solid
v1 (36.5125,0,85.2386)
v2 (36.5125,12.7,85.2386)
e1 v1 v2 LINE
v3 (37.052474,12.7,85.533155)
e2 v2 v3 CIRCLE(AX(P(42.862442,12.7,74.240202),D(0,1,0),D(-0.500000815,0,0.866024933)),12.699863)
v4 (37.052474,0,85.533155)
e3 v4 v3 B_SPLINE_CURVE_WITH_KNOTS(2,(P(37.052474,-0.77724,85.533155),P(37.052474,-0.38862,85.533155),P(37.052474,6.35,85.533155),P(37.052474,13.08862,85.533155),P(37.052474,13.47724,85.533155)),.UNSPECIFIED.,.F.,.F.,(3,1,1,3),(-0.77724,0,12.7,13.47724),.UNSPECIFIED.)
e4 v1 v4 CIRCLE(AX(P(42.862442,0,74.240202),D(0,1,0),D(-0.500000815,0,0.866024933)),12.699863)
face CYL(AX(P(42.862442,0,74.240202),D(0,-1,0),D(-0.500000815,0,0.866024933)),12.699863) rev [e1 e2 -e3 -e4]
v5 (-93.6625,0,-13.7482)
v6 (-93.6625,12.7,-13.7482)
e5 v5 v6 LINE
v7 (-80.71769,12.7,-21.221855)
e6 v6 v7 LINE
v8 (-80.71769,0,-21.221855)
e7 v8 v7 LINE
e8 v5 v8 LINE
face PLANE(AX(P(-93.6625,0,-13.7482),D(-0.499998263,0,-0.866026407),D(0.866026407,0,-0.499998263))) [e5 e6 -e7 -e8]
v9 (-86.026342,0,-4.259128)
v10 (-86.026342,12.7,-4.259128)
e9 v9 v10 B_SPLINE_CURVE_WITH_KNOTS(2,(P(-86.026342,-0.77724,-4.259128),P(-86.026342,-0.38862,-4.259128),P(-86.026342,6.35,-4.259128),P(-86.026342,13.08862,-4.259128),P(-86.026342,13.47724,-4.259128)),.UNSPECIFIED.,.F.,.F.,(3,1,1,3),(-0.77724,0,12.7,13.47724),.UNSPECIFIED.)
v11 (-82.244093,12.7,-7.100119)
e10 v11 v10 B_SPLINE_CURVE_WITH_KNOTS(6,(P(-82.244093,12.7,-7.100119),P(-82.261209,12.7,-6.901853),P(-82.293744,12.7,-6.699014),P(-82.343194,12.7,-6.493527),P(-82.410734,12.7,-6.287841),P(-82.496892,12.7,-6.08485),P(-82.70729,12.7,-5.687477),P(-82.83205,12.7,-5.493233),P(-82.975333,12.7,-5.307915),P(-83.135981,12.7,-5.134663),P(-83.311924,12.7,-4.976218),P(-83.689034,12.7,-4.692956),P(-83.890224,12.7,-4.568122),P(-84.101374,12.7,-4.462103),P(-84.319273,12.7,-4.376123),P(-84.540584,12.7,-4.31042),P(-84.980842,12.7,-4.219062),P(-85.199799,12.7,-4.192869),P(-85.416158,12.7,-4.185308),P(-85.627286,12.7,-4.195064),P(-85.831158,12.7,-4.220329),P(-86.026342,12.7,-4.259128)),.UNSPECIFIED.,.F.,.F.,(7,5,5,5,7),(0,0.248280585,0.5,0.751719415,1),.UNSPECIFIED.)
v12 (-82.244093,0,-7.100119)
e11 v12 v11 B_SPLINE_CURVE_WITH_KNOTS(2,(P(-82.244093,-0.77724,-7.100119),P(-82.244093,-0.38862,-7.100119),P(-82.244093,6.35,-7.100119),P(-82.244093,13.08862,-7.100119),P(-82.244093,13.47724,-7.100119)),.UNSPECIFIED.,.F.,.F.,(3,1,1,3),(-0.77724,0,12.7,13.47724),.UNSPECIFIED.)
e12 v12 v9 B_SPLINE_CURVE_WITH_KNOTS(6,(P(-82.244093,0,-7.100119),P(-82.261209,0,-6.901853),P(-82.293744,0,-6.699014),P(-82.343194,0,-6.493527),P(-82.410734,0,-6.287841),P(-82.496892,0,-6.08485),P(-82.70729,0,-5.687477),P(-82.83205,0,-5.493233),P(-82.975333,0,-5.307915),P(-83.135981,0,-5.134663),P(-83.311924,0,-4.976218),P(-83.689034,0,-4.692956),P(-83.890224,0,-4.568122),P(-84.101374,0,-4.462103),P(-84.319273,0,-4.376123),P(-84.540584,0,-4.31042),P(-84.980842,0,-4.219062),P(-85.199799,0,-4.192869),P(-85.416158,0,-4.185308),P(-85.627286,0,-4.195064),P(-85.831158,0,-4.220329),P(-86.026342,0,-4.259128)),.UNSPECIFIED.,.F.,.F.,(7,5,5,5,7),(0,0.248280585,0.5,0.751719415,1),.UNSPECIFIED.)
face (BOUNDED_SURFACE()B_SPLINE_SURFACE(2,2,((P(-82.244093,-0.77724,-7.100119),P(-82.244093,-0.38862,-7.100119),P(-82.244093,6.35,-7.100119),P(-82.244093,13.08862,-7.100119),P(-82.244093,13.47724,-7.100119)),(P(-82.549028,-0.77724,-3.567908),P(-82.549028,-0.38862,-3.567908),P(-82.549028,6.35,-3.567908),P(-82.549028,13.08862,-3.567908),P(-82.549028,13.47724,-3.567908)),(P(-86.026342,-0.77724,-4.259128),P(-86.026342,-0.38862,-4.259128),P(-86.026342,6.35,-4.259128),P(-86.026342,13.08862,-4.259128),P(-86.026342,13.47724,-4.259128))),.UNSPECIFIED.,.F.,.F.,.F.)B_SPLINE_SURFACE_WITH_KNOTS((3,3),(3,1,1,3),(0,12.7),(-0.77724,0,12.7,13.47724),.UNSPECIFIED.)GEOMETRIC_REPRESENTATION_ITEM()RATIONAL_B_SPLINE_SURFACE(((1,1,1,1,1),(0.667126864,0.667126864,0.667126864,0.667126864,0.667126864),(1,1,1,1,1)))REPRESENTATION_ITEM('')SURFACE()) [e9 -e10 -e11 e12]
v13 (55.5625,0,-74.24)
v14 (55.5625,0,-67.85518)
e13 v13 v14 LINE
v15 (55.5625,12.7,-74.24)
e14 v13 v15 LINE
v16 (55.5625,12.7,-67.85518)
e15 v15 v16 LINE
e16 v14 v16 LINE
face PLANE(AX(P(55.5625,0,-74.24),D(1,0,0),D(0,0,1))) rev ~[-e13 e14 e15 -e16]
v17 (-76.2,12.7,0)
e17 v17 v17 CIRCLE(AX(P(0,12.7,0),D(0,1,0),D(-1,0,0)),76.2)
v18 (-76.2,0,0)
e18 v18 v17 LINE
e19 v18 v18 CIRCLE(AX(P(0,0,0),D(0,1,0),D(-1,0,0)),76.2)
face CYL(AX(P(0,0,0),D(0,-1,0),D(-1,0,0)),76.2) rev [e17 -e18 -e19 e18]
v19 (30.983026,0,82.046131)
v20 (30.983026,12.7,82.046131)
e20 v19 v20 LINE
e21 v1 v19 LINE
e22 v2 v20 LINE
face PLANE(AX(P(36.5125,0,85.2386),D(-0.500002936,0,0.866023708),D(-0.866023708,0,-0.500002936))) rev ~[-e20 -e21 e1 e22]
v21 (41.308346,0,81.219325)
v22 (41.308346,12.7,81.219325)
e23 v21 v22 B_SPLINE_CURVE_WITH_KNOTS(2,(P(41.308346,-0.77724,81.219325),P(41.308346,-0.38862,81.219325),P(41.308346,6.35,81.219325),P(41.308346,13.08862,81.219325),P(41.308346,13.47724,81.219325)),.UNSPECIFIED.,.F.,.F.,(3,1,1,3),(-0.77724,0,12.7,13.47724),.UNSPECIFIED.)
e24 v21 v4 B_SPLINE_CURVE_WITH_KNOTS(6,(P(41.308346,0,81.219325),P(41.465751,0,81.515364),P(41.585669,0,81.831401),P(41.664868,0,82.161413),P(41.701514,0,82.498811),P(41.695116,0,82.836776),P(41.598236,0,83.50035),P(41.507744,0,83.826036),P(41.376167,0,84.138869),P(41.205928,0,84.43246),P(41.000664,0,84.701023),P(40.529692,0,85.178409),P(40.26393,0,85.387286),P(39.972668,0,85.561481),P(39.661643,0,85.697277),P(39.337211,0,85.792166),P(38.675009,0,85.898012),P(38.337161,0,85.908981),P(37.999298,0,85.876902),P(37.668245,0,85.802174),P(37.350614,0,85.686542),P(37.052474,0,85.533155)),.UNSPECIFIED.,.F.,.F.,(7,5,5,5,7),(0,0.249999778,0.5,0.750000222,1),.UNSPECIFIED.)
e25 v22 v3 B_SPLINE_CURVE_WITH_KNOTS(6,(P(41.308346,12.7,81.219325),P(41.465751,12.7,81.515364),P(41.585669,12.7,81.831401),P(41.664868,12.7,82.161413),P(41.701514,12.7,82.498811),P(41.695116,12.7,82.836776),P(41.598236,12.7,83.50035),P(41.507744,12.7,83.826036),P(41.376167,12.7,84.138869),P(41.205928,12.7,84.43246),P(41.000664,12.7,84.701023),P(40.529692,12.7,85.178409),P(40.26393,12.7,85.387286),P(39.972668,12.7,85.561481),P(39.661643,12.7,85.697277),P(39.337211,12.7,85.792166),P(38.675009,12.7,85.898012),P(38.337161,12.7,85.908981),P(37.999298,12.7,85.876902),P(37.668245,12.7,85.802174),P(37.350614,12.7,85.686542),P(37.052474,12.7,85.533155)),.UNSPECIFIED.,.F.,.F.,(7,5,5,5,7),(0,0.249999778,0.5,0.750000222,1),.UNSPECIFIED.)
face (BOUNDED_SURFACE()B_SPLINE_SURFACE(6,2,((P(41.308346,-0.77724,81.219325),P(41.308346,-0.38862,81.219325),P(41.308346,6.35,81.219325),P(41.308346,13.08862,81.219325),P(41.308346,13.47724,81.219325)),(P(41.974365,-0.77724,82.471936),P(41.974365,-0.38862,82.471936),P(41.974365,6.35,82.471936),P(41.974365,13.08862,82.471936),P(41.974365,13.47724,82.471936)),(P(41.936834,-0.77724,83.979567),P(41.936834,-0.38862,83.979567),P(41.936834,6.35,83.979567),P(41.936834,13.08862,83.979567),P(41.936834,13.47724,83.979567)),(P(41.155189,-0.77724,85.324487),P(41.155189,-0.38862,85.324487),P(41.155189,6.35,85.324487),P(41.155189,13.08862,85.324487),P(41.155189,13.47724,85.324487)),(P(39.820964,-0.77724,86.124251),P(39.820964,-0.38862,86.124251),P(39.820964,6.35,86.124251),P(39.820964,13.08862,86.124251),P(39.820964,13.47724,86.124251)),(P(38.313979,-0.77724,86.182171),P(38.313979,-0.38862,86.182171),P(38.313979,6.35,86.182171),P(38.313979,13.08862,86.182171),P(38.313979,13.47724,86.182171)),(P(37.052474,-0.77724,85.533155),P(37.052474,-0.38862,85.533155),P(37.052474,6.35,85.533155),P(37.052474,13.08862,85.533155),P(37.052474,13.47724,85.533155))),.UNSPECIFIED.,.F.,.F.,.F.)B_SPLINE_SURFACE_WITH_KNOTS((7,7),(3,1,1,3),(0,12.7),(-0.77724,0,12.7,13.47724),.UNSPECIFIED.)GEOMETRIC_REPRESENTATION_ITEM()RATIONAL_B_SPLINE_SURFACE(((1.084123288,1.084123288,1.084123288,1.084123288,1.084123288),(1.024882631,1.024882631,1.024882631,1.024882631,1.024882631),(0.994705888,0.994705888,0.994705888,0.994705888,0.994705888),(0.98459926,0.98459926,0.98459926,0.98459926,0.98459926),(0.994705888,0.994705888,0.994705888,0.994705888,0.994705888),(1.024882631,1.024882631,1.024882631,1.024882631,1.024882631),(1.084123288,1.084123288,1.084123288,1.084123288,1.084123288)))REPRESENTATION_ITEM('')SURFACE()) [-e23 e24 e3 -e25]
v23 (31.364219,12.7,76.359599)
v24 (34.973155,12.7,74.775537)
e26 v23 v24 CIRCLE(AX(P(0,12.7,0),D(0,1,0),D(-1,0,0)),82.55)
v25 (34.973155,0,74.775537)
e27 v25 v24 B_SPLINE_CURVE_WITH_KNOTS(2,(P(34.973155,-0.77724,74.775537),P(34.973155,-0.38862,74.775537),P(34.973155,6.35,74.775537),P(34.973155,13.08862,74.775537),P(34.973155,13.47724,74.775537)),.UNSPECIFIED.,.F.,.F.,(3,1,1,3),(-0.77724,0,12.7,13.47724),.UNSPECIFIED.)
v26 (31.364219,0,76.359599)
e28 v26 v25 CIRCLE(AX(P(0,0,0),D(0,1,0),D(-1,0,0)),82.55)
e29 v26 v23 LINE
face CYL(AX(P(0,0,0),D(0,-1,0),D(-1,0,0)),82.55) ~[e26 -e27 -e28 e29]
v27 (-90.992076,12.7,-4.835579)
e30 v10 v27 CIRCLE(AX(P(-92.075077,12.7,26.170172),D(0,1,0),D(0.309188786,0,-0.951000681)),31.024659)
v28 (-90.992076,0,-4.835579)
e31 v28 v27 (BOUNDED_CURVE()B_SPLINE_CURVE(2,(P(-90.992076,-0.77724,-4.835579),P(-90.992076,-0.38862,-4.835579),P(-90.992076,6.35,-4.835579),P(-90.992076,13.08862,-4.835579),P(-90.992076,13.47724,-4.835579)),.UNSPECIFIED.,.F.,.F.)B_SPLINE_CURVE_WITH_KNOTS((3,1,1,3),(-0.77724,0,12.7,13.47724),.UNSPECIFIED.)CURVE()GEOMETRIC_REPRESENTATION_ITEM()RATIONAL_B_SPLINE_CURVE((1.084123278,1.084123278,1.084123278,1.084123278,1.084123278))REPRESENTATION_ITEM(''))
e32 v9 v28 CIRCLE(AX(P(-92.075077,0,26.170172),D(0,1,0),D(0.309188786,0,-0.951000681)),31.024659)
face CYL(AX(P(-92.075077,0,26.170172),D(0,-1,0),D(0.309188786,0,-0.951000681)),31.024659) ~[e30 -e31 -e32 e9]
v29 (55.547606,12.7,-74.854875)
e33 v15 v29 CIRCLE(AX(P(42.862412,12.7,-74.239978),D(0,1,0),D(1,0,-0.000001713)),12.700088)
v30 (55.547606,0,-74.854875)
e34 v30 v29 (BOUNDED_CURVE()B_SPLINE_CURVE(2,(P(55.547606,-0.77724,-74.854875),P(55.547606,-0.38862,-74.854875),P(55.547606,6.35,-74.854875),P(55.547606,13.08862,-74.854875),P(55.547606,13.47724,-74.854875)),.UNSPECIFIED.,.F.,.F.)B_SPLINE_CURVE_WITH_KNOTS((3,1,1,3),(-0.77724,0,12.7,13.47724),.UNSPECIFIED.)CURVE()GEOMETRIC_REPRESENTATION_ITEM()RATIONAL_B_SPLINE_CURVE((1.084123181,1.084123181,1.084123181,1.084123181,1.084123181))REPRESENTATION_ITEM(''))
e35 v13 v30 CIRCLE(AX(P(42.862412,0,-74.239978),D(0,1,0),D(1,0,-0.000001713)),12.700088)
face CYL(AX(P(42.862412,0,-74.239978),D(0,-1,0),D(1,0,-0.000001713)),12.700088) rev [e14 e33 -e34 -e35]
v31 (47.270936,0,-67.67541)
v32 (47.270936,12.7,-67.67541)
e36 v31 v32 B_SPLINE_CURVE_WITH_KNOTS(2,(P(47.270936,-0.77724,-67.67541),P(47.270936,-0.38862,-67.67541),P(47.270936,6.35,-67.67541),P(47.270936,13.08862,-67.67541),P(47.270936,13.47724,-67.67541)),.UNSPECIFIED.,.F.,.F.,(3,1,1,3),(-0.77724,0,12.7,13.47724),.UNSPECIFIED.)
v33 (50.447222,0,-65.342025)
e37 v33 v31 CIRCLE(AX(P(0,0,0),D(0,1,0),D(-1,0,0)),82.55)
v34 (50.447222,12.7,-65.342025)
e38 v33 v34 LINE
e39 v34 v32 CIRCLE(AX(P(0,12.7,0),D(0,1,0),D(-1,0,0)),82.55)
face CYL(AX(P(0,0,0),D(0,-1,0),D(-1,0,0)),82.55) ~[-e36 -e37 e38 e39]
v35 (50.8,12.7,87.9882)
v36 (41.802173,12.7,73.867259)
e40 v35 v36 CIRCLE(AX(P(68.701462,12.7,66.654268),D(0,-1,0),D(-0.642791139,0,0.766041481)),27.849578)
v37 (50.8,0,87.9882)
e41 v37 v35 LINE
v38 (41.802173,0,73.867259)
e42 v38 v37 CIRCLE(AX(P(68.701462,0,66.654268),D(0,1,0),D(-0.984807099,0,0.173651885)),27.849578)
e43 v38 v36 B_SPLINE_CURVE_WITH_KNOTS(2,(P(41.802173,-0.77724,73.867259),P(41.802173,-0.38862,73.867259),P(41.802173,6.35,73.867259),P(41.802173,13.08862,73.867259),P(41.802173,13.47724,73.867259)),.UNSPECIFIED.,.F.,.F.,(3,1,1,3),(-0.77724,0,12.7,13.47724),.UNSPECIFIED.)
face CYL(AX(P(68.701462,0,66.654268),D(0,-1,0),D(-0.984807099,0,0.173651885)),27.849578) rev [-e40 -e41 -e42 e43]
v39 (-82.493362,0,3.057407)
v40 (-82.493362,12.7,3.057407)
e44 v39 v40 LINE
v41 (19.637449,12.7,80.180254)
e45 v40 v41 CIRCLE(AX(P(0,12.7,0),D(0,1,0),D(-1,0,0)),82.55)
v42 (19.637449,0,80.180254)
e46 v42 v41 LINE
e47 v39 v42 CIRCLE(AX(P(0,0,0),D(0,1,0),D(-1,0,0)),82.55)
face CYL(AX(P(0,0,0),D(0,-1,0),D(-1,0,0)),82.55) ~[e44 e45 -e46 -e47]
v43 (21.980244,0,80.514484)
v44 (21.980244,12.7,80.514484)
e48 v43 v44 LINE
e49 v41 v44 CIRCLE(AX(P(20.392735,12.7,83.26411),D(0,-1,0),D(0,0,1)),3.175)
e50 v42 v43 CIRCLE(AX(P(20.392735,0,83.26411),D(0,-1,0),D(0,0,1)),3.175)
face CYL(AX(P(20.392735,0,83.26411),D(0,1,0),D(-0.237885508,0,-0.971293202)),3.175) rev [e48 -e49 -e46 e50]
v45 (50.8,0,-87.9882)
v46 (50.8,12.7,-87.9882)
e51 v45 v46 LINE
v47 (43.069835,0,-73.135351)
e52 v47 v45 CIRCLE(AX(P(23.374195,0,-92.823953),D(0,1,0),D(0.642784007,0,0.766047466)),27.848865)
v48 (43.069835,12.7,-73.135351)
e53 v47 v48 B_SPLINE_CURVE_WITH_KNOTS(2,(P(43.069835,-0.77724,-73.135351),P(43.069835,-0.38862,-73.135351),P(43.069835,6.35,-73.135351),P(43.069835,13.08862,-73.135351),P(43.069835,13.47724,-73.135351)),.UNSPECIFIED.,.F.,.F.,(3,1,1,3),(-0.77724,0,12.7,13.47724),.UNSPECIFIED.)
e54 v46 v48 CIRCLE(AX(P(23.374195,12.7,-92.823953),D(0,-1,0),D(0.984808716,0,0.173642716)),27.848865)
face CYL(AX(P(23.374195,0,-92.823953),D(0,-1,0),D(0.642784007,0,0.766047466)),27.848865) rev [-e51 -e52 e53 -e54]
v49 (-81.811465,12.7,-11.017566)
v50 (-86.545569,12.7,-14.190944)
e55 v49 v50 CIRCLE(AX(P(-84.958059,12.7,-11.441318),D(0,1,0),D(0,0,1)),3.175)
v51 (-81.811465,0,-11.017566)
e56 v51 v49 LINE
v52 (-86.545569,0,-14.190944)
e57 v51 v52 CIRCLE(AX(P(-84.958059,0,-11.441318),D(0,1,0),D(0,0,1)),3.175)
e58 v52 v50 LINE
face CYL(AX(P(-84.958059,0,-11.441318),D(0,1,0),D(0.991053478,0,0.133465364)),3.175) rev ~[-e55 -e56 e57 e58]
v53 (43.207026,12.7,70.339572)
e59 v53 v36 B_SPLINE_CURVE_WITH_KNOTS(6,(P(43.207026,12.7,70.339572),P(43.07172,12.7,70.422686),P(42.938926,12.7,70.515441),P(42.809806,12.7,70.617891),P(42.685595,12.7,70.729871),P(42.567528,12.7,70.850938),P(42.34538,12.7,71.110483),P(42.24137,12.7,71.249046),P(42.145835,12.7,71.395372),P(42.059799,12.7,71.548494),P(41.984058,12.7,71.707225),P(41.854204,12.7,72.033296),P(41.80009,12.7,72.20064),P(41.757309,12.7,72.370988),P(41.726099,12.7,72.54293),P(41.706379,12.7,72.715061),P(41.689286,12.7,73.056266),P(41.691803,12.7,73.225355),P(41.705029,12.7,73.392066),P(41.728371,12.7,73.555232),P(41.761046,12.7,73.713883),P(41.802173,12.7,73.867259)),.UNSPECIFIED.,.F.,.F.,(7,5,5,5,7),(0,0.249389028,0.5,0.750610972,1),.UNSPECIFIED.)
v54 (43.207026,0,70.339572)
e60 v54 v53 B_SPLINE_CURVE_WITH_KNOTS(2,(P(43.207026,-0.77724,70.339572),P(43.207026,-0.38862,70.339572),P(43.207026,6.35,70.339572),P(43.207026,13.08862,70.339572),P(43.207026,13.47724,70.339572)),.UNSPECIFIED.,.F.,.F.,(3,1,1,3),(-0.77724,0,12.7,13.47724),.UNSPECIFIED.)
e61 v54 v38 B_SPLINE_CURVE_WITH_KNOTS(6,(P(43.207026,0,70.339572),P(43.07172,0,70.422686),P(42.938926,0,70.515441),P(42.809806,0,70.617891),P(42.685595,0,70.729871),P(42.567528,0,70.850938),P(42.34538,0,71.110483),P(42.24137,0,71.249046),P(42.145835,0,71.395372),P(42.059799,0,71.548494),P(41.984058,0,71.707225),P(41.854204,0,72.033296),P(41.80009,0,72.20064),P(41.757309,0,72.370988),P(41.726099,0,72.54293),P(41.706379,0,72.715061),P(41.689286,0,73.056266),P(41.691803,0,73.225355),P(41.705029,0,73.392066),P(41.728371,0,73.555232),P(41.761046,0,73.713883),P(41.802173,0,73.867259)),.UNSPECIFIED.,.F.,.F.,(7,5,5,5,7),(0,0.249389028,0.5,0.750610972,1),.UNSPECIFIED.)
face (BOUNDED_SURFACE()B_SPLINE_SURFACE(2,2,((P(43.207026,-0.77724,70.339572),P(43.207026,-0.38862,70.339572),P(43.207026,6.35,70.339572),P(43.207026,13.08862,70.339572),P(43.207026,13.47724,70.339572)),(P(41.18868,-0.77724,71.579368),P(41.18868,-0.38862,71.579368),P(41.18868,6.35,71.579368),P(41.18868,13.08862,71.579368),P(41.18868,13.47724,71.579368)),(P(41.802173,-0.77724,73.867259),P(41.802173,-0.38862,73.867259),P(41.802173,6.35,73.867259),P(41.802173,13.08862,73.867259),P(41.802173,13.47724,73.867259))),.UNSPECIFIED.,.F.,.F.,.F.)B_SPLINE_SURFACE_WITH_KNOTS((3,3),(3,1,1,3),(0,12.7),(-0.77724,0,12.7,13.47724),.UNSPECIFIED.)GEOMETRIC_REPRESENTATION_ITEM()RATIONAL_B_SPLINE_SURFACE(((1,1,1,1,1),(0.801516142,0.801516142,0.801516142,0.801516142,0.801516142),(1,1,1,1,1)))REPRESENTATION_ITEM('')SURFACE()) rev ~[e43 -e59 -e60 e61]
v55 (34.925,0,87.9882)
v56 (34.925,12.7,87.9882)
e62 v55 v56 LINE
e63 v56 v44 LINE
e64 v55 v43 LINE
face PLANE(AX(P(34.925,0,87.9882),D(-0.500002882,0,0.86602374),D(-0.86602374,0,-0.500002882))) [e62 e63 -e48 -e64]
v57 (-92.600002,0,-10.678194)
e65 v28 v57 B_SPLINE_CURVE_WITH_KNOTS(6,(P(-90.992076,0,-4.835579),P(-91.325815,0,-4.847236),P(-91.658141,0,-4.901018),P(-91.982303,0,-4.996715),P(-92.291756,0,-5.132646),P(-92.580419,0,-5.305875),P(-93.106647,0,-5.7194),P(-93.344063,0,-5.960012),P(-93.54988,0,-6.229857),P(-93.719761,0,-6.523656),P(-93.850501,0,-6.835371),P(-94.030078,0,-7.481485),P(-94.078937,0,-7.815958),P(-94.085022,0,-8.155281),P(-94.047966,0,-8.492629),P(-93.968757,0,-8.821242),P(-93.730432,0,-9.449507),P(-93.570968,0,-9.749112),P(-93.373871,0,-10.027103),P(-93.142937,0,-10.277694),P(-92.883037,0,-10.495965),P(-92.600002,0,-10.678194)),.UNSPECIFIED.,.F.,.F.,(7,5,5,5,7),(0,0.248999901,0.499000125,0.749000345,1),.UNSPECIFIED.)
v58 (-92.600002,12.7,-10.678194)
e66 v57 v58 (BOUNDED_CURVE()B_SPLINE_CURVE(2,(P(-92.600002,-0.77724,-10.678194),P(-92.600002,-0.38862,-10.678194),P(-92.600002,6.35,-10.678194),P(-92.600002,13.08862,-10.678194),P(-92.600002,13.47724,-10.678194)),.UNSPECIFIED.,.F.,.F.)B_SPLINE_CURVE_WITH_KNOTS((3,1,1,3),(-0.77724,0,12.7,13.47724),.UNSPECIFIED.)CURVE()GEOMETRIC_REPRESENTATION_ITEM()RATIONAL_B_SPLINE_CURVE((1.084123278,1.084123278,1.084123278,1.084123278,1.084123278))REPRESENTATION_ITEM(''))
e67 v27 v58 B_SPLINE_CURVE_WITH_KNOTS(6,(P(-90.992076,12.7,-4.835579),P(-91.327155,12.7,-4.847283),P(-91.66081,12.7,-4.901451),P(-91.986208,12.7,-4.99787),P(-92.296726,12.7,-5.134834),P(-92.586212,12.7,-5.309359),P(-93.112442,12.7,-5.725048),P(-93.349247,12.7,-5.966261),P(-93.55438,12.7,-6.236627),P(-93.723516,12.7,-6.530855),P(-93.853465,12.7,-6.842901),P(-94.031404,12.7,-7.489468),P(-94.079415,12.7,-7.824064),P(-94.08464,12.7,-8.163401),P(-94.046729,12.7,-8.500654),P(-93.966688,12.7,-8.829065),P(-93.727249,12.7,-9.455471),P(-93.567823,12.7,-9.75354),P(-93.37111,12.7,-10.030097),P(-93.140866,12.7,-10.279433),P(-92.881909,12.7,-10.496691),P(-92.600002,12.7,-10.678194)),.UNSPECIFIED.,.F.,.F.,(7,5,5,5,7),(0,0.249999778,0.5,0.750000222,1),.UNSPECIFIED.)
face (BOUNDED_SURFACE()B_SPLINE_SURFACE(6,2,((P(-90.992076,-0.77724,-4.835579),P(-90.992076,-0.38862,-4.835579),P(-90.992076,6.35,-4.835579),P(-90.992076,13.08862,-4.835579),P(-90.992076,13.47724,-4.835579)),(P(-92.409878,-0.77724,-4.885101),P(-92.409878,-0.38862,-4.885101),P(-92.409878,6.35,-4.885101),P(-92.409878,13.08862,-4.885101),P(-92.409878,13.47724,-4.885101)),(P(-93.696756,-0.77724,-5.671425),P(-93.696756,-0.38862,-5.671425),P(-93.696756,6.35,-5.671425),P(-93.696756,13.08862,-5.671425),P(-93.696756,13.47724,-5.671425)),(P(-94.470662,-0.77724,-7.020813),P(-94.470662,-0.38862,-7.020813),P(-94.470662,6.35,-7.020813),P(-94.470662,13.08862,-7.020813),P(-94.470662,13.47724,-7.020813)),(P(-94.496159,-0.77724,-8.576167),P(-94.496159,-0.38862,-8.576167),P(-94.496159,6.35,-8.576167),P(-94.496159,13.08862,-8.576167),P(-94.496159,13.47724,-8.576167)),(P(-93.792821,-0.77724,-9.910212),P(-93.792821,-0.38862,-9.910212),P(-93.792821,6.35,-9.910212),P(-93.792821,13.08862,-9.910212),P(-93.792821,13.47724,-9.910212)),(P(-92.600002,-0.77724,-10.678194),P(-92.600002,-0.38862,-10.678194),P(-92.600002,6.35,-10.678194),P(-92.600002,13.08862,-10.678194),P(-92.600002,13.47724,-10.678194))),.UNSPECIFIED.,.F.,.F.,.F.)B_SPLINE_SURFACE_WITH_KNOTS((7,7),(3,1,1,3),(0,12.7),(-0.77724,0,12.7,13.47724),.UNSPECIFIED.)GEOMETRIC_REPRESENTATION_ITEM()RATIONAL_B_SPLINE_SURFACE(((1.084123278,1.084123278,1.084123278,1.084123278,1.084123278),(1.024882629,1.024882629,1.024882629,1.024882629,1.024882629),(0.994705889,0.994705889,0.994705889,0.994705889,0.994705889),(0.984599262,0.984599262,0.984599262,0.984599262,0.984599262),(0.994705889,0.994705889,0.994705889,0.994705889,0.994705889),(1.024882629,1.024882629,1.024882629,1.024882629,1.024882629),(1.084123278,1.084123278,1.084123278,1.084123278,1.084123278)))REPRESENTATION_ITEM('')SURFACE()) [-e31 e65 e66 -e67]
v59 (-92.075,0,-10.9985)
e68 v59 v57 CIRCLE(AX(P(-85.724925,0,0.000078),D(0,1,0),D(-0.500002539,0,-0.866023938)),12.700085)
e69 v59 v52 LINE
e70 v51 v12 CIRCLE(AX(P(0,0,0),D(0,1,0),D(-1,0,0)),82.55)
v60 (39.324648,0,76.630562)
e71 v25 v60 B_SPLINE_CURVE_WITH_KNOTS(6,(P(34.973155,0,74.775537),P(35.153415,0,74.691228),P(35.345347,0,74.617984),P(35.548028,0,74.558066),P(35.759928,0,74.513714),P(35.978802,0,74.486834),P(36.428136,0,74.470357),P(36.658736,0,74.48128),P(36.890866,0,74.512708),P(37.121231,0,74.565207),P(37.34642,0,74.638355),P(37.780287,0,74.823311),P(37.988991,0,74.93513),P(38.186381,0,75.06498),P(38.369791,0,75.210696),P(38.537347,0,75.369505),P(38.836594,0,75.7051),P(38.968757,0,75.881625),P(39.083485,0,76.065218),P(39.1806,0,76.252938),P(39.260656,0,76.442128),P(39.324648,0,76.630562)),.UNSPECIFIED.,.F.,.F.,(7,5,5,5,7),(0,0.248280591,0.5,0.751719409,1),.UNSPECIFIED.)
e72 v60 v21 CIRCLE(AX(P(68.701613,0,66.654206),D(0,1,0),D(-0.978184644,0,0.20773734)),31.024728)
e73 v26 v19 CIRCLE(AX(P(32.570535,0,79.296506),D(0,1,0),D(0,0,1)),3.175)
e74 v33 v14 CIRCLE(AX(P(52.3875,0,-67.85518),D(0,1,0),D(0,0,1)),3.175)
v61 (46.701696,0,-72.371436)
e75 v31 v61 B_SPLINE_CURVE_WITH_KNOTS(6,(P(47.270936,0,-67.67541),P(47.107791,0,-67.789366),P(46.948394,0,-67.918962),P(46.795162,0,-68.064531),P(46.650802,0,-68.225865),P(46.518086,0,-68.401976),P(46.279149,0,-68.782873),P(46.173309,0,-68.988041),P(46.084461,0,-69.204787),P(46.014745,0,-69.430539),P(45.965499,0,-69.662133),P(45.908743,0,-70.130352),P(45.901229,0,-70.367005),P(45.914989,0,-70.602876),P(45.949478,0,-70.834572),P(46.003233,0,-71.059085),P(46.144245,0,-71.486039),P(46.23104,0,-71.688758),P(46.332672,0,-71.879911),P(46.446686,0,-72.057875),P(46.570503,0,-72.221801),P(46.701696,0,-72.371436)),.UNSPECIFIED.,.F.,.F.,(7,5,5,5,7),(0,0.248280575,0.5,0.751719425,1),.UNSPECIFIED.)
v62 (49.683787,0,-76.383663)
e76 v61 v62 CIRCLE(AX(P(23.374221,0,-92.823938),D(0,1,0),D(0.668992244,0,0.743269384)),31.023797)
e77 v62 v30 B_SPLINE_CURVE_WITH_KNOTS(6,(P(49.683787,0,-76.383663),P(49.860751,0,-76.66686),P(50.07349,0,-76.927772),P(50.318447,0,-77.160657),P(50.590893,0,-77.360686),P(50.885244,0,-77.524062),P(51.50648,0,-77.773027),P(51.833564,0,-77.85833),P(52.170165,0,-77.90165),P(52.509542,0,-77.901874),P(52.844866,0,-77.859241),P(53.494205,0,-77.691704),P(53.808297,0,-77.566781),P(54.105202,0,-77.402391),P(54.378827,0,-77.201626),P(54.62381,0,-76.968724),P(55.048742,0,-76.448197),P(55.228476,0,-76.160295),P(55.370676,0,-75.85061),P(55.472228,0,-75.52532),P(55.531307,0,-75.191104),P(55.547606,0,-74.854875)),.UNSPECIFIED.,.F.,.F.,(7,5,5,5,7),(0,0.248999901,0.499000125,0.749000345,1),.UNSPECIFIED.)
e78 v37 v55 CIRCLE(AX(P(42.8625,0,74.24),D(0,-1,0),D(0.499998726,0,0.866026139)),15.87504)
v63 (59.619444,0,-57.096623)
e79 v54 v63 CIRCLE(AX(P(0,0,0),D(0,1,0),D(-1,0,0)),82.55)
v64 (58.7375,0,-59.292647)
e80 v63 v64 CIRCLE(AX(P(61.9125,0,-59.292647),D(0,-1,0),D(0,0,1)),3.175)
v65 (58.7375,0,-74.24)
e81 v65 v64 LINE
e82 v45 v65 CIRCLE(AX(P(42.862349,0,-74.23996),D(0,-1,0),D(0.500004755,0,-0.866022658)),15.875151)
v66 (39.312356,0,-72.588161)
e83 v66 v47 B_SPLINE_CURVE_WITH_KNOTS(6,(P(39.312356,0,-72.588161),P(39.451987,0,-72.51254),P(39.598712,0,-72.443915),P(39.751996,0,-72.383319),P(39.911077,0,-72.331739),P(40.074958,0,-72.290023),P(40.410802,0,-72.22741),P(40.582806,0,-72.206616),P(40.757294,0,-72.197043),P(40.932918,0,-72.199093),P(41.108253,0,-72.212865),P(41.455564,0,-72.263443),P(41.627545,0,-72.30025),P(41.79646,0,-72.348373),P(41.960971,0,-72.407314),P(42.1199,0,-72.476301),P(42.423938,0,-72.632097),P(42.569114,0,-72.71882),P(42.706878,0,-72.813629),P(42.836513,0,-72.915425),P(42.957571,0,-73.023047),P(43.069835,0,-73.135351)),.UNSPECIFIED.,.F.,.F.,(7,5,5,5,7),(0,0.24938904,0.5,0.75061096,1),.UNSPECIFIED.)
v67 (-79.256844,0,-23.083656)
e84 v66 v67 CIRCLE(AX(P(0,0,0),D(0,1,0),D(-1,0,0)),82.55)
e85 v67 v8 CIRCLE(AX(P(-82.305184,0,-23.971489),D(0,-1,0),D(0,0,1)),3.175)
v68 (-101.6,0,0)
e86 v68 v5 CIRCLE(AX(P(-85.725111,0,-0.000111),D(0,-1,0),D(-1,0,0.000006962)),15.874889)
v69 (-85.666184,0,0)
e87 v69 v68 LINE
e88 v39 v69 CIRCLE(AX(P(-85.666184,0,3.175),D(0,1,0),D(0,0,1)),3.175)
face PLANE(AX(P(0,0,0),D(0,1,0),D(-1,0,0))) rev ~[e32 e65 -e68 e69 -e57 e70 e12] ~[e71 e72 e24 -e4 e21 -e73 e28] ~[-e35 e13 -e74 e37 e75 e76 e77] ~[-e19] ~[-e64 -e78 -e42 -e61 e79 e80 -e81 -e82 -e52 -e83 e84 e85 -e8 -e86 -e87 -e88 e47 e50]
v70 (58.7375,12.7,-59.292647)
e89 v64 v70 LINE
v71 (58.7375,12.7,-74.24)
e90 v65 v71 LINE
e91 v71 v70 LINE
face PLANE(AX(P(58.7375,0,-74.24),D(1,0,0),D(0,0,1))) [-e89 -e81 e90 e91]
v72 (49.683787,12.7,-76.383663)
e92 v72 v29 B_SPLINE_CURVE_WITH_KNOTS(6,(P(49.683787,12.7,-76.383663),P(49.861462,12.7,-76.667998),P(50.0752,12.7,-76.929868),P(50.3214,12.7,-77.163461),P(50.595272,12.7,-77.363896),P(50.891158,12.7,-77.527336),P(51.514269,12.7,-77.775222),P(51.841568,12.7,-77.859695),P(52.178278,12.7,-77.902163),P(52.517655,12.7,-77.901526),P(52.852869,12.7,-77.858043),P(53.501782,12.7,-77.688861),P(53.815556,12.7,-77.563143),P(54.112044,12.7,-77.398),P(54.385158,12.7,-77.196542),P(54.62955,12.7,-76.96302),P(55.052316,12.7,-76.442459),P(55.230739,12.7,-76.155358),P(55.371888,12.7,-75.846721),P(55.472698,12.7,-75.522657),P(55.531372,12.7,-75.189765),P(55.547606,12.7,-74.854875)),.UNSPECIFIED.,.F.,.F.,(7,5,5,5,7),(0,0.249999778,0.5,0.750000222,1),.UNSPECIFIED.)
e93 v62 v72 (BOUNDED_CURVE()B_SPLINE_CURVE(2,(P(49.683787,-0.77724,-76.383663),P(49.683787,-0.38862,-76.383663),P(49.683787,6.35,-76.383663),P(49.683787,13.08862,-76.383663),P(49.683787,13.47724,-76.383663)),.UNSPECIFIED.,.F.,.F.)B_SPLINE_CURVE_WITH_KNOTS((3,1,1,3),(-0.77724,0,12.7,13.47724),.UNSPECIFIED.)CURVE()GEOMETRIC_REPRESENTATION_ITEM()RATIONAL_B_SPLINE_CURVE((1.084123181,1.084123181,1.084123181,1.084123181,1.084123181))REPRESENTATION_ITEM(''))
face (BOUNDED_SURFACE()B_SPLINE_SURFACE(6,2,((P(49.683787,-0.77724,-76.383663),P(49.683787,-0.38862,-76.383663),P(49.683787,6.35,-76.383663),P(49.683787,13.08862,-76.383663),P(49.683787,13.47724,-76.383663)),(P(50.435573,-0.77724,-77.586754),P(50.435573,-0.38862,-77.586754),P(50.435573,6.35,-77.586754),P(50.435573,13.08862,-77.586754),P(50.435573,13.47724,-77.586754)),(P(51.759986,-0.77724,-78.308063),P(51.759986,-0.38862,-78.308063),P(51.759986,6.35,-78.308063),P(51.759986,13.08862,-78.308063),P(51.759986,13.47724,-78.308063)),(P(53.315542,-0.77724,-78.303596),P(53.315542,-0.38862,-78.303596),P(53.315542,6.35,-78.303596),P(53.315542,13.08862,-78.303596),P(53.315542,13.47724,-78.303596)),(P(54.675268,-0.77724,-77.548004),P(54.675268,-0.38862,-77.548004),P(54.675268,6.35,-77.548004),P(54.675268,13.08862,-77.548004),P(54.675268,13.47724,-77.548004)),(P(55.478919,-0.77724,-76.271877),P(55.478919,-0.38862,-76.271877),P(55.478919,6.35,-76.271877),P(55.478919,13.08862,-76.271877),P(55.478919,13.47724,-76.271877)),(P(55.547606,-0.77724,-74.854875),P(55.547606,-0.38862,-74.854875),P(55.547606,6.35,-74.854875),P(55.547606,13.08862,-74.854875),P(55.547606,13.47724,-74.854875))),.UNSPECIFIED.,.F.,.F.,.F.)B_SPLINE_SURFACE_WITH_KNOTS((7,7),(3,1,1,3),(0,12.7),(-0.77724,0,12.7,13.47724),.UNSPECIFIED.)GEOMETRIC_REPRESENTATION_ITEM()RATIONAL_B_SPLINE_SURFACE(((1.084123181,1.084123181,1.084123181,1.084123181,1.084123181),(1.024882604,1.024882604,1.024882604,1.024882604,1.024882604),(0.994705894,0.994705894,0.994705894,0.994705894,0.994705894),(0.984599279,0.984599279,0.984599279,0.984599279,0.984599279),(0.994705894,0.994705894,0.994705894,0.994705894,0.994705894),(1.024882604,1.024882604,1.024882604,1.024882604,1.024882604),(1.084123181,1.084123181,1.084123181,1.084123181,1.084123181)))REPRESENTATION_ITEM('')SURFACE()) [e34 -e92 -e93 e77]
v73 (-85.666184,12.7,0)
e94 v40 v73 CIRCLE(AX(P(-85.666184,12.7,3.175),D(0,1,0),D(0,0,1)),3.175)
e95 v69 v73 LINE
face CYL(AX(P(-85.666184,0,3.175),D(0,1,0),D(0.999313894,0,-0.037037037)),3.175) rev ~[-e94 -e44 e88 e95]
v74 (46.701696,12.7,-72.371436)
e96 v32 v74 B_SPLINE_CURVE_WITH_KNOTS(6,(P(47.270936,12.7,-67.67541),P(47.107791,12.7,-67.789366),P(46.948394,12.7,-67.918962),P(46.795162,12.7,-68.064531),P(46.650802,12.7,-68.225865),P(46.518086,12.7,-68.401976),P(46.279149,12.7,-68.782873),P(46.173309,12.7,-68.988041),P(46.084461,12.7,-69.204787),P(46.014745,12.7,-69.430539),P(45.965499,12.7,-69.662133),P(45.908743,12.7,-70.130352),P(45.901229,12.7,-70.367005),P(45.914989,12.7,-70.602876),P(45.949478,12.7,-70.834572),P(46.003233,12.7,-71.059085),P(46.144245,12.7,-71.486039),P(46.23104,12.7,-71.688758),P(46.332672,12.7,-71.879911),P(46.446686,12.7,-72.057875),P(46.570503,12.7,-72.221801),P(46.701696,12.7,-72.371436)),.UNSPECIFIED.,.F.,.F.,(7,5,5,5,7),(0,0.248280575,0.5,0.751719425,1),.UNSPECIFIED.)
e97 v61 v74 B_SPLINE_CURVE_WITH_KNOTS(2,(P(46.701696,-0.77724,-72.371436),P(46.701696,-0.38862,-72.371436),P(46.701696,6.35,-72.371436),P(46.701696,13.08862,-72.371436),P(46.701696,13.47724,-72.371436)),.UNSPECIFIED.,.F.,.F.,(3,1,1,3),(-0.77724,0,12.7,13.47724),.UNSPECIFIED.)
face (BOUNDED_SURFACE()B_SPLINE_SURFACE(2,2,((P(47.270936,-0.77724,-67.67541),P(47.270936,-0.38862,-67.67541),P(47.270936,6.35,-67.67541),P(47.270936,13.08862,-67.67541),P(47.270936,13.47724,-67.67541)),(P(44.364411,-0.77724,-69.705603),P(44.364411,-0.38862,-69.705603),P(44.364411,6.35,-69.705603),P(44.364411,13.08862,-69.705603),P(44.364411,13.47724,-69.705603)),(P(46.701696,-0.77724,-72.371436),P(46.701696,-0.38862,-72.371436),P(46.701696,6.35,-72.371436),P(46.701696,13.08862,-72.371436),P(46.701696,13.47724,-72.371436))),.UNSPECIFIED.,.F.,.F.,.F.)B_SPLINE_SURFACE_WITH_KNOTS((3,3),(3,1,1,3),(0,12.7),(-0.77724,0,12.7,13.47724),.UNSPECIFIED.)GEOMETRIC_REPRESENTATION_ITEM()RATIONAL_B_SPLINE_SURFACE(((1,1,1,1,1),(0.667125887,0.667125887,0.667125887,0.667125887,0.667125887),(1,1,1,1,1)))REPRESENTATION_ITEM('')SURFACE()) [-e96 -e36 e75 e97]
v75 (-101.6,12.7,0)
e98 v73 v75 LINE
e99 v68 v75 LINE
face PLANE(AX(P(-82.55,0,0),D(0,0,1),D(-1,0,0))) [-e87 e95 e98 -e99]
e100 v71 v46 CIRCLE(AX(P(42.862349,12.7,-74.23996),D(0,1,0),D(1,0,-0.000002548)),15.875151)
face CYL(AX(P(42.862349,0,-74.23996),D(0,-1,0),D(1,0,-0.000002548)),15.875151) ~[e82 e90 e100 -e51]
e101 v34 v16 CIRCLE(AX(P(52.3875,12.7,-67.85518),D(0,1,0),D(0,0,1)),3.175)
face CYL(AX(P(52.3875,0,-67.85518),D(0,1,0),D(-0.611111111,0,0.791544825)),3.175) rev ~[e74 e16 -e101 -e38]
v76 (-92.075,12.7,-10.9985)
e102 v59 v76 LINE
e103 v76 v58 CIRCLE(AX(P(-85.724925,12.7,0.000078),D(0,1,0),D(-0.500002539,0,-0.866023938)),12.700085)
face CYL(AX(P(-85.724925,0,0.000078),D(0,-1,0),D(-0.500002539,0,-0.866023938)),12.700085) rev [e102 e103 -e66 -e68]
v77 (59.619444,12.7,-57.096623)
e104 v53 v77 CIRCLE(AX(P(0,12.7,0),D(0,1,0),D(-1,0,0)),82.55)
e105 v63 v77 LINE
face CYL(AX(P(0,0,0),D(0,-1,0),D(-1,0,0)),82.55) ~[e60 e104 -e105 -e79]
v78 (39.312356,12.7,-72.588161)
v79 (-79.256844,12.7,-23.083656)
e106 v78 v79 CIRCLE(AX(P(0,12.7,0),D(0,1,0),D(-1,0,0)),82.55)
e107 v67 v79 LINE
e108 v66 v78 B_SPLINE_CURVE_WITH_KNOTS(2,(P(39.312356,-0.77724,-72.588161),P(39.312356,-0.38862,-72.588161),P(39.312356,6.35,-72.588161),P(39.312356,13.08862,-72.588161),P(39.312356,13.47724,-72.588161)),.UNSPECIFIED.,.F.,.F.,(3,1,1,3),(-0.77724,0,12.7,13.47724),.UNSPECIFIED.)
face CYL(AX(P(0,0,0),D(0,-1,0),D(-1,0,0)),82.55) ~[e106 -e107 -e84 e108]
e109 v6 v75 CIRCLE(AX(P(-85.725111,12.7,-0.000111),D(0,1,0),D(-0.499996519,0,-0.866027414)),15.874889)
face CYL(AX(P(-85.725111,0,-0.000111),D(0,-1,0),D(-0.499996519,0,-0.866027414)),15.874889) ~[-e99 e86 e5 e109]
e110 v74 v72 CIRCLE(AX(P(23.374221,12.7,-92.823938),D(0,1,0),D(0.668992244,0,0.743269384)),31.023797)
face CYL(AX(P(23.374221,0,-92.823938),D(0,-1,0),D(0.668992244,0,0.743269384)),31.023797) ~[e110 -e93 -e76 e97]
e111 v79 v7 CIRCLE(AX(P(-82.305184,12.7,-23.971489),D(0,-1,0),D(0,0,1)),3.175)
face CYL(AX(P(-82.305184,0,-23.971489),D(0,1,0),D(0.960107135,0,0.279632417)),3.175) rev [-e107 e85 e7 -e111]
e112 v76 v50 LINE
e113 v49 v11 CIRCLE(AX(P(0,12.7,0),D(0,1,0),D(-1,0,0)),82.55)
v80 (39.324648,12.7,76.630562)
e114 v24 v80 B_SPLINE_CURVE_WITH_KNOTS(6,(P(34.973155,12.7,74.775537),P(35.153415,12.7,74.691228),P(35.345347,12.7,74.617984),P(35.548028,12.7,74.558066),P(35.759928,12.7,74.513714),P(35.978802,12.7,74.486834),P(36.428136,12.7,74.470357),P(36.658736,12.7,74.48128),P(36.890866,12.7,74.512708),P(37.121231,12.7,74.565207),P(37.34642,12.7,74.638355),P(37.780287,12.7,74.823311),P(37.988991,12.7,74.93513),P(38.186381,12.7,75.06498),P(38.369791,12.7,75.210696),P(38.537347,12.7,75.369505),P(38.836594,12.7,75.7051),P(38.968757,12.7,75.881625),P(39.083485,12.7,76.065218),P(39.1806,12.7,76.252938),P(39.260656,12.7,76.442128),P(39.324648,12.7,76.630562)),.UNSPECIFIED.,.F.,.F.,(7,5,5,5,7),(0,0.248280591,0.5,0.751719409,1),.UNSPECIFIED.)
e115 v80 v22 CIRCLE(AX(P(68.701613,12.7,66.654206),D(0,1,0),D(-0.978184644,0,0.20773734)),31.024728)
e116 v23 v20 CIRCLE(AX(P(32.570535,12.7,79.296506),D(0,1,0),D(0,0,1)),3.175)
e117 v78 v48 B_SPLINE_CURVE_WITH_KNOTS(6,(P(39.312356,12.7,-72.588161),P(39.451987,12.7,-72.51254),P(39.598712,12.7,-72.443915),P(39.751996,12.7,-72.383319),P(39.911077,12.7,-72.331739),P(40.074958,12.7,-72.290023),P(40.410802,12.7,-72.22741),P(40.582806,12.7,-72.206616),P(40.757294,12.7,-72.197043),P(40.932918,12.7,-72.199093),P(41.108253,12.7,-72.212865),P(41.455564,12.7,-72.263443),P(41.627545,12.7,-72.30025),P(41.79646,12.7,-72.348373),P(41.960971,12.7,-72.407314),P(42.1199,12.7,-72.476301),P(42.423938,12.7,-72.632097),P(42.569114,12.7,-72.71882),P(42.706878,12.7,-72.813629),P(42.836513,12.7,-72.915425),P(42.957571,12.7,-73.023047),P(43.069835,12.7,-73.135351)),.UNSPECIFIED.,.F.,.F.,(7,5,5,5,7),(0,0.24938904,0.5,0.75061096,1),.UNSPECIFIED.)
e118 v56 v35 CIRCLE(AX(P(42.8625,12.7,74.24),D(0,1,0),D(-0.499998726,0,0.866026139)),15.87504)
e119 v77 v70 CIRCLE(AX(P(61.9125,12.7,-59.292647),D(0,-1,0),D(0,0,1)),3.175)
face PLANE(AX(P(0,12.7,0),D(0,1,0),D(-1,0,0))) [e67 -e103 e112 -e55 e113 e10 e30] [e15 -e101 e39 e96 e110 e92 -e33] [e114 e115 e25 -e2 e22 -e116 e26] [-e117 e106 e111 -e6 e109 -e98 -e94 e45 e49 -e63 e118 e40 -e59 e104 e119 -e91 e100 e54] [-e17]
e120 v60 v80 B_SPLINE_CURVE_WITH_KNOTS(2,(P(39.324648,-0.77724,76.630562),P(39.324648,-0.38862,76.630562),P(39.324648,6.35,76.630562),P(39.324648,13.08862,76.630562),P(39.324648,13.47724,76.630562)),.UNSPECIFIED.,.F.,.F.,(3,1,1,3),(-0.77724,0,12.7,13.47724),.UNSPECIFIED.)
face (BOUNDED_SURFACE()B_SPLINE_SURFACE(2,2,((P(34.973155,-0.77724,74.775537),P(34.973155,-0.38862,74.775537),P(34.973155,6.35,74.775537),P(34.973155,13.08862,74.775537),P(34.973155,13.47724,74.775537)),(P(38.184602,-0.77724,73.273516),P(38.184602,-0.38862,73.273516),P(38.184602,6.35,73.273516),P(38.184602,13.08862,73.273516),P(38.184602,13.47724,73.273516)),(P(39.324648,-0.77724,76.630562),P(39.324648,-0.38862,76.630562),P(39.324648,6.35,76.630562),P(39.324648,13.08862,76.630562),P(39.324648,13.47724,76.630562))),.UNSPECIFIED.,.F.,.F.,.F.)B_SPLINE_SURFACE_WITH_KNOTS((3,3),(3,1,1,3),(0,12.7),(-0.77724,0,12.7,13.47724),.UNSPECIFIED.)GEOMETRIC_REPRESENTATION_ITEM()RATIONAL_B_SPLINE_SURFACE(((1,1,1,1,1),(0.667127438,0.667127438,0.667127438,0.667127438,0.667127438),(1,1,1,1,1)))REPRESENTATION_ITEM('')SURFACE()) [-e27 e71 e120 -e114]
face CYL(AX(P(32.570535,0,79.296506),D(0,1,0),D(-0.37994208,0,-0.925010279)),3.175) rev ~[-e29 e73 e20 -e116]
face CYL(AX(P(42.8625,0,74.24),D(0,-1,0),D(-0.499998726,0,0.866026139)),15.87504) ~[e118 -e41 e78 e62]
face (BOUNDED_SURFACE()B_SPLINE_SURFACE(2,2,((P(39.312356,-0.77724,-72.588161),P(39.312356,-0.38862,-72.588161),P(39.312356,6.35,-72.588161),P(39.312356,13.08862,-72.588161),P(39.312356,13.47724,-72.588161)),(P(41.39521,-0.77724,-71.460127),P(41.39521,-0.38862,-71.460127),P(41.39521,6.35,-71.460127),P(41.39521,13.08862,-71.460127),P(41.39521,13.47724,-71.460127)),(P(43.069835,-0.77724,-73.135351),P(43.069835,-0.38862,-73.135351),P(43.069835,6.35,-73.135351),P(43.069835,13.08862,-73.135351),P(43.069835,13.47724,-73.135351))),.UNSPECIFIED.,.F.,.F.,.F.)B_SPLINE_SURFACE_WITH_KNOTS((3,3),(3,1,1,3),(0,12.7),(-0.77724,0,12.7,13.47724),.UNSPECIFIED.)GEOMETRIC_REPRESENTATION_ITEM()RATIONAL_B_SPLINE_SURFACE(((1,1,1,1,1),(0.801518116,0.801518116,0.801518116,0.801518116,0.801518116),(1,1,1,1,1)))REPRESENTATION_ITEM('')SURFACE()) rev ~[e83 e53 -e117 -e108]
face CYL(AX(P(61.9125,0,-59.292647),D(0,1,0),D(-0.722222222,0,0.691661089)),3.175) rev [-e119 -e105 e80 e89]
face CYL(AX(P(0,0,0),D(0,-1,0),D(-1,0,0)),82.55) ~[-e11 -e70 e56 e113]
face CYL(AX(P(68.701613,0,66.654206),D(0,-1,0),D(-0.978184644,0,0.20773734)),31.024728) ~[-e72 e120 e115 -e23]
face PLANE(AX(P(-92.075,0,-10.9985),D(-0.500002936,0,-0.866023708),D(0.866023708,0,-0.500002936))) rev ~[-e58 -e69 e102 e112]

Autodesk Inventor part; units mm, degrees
ref_plane "YZ Plane" through (0, 0, 0) normal (1, 0, 0) x (0, 1, 0)
ref_plane "XZ Plane" through (0, 0, 0) normal (0, 1, 0) x (-1, 0, 0)
ref_plane "XY Plane" through (0, 0, 0) normal (0, 0, 1) x (1, 0, 0)
sketch "Sketch1" plane through (0, 0, 0) normal (0, 1, 0) x (-1, 0, 0)
  circle A0 centre (0, 0) radius 76.2
  circle A1 centre (0, 0) radius 82.55
  line L0 (0, 0) -> (101.6, 0)
  arc A2 (82.55, 0) -> (101.6, 0) centre (92.075, 26.1697) ccw
  line L1 (101.6, 0) -> (92.4836, -3.3181) construction
  arc A3 (93.6625, -13.7482) -> (101.6, 0) centre (85.725, 0) ccw
  line L2 (93.6625, -13.7482) -> (79.6013, -21.8664)
  arc A4 (92.075, -10.9985) -> (98.3891, -0.9543) centre (85.725, 0) ccw
  line L3 (92.075, -10.9985) -> (80.6536, -17.5927)
  arc A5 (82.4826, -3.3343) -> (101.2144, -3.4778) centre (92.075, 26.1697) ccw
  arc A6 (-41.275, 71.4904) -> (-50.8, 87.9882) centre (-68.7011, 66.6544) ccw
  line L4 (-50.8, 87.9882) -> (-43.3683, 81.7522) construction
  arc A7 (-34.925, 87.9882) -> (-50.8, 87.9882) centre (-42.8625, 74.24) ccw
  line L5 (-34.925, 87.9882) -> (-20.8638, 79.8699)
  arc A8 (-36.5125, 85.2386) -> (-48.3681, 85.6846) centre (-42.8625, 74.24) ccw
  line L6 (-36.5125, 85.2386) -> (-25.0911, 78.6444)
  arc A9 (-38.3537, 73.0992) -> (-47.5953, 89.3931) centre (-68.7011, 66.6544) ccw
  arc A10 (-41.275, -71.4904) -> (-50.8, -87.9882) centre (-23.3739, -92.8242) ccw
  line L7 (-50.8, -87.9882) -> (-49.1154, -78.4341) construction
  arc A11 (-58.7375, -74.24) -> (-50.8, -87.9882) centre (-42.8625, -74.24) ccw
  line L8 (-58.7375, -74.24) -> (-58.7375, -58.0035)
  arc A12 (-55.5625, -74.24) -> (-50.021, -84.7303) centre (-42.8625, -74.24) ccw
  line L9 (-55.5625, -74.24) -> (-55.5625, -61.0517)
  arc A13 (-44.1289, -69.7649) -> (-53.619, -85.9153) centre (-23.3739, -92.8242) ccw
  point P0 (-20.8638, 79.8699)
  point P1 (-41.275, 71.4904)
  point P2 (-58.7375, -58.0035)
  point P3 (-41.275, -71.4904)
  point P4 (-44.1289, -69.7649)
  point P5 (-52.5943, -82.3998)
  point P6 (-55.5625, -61.0517)
  point P7 (-38.3537, 73.0992)
  point P8 (-45.0631, 86.7479)
  point P9 (-25.0911, 78.6444)
  point P10 (97.6575, -4.3481)
  dimension "d0" = 152.4
  dimension "d1" = 6.35
  dimension "d2" = 101.6
  dimension "d3" = 20
  dimension "d4" = 15.875
  dimension "d5" = 30
  dimension "d10" = 3.175
  dimension "d11" = 3.175
  dimension "d14" = 360
extrude "Extrusion1" add sketch "Sketch1" along normal blind 12.7 contours A1 | L0 A2 | A2 A4 A5 A1 | A1 L6 A8 A9 A7 L5 | A3 A5 A4 A2 | L3 A4 A5 A3 L2 A1 | A1 A6 A8 A9 | A9 A8 A6 A7 | A10 A12 A13 A1 | A1 L9 A12 A13 A11 L8 | A10 A11 A13 A12
fillet "Fillet1" radius 3.175 15 edges at (41.275, 6.35, 71.4904) (38.3537, 6.35, 73.0992) (25.0911, 6.35, 78.6444) (45.0631, 6.35, 86.7479) (52.5943, 6.35, -82.3998) (55.5625, 6.35, -61.0517) (44.1289, 6.35, -69.7649) (41.275, 6.35, -71.4904) (-79.6013, 6.35, -21.8664) (-80.6536, 6.35, -17.5927) (-82.4826, 6.35, -3.3343) (-97.6575, 6.35, -4.3481) (-82.55, 6.35, 0) (58.7375, 6.35, -58.0035) (20.8638, 6.35, 79.8699)
equation "\"d10\" = d11"
properties part number "Ring" material "Stainless Steel"
